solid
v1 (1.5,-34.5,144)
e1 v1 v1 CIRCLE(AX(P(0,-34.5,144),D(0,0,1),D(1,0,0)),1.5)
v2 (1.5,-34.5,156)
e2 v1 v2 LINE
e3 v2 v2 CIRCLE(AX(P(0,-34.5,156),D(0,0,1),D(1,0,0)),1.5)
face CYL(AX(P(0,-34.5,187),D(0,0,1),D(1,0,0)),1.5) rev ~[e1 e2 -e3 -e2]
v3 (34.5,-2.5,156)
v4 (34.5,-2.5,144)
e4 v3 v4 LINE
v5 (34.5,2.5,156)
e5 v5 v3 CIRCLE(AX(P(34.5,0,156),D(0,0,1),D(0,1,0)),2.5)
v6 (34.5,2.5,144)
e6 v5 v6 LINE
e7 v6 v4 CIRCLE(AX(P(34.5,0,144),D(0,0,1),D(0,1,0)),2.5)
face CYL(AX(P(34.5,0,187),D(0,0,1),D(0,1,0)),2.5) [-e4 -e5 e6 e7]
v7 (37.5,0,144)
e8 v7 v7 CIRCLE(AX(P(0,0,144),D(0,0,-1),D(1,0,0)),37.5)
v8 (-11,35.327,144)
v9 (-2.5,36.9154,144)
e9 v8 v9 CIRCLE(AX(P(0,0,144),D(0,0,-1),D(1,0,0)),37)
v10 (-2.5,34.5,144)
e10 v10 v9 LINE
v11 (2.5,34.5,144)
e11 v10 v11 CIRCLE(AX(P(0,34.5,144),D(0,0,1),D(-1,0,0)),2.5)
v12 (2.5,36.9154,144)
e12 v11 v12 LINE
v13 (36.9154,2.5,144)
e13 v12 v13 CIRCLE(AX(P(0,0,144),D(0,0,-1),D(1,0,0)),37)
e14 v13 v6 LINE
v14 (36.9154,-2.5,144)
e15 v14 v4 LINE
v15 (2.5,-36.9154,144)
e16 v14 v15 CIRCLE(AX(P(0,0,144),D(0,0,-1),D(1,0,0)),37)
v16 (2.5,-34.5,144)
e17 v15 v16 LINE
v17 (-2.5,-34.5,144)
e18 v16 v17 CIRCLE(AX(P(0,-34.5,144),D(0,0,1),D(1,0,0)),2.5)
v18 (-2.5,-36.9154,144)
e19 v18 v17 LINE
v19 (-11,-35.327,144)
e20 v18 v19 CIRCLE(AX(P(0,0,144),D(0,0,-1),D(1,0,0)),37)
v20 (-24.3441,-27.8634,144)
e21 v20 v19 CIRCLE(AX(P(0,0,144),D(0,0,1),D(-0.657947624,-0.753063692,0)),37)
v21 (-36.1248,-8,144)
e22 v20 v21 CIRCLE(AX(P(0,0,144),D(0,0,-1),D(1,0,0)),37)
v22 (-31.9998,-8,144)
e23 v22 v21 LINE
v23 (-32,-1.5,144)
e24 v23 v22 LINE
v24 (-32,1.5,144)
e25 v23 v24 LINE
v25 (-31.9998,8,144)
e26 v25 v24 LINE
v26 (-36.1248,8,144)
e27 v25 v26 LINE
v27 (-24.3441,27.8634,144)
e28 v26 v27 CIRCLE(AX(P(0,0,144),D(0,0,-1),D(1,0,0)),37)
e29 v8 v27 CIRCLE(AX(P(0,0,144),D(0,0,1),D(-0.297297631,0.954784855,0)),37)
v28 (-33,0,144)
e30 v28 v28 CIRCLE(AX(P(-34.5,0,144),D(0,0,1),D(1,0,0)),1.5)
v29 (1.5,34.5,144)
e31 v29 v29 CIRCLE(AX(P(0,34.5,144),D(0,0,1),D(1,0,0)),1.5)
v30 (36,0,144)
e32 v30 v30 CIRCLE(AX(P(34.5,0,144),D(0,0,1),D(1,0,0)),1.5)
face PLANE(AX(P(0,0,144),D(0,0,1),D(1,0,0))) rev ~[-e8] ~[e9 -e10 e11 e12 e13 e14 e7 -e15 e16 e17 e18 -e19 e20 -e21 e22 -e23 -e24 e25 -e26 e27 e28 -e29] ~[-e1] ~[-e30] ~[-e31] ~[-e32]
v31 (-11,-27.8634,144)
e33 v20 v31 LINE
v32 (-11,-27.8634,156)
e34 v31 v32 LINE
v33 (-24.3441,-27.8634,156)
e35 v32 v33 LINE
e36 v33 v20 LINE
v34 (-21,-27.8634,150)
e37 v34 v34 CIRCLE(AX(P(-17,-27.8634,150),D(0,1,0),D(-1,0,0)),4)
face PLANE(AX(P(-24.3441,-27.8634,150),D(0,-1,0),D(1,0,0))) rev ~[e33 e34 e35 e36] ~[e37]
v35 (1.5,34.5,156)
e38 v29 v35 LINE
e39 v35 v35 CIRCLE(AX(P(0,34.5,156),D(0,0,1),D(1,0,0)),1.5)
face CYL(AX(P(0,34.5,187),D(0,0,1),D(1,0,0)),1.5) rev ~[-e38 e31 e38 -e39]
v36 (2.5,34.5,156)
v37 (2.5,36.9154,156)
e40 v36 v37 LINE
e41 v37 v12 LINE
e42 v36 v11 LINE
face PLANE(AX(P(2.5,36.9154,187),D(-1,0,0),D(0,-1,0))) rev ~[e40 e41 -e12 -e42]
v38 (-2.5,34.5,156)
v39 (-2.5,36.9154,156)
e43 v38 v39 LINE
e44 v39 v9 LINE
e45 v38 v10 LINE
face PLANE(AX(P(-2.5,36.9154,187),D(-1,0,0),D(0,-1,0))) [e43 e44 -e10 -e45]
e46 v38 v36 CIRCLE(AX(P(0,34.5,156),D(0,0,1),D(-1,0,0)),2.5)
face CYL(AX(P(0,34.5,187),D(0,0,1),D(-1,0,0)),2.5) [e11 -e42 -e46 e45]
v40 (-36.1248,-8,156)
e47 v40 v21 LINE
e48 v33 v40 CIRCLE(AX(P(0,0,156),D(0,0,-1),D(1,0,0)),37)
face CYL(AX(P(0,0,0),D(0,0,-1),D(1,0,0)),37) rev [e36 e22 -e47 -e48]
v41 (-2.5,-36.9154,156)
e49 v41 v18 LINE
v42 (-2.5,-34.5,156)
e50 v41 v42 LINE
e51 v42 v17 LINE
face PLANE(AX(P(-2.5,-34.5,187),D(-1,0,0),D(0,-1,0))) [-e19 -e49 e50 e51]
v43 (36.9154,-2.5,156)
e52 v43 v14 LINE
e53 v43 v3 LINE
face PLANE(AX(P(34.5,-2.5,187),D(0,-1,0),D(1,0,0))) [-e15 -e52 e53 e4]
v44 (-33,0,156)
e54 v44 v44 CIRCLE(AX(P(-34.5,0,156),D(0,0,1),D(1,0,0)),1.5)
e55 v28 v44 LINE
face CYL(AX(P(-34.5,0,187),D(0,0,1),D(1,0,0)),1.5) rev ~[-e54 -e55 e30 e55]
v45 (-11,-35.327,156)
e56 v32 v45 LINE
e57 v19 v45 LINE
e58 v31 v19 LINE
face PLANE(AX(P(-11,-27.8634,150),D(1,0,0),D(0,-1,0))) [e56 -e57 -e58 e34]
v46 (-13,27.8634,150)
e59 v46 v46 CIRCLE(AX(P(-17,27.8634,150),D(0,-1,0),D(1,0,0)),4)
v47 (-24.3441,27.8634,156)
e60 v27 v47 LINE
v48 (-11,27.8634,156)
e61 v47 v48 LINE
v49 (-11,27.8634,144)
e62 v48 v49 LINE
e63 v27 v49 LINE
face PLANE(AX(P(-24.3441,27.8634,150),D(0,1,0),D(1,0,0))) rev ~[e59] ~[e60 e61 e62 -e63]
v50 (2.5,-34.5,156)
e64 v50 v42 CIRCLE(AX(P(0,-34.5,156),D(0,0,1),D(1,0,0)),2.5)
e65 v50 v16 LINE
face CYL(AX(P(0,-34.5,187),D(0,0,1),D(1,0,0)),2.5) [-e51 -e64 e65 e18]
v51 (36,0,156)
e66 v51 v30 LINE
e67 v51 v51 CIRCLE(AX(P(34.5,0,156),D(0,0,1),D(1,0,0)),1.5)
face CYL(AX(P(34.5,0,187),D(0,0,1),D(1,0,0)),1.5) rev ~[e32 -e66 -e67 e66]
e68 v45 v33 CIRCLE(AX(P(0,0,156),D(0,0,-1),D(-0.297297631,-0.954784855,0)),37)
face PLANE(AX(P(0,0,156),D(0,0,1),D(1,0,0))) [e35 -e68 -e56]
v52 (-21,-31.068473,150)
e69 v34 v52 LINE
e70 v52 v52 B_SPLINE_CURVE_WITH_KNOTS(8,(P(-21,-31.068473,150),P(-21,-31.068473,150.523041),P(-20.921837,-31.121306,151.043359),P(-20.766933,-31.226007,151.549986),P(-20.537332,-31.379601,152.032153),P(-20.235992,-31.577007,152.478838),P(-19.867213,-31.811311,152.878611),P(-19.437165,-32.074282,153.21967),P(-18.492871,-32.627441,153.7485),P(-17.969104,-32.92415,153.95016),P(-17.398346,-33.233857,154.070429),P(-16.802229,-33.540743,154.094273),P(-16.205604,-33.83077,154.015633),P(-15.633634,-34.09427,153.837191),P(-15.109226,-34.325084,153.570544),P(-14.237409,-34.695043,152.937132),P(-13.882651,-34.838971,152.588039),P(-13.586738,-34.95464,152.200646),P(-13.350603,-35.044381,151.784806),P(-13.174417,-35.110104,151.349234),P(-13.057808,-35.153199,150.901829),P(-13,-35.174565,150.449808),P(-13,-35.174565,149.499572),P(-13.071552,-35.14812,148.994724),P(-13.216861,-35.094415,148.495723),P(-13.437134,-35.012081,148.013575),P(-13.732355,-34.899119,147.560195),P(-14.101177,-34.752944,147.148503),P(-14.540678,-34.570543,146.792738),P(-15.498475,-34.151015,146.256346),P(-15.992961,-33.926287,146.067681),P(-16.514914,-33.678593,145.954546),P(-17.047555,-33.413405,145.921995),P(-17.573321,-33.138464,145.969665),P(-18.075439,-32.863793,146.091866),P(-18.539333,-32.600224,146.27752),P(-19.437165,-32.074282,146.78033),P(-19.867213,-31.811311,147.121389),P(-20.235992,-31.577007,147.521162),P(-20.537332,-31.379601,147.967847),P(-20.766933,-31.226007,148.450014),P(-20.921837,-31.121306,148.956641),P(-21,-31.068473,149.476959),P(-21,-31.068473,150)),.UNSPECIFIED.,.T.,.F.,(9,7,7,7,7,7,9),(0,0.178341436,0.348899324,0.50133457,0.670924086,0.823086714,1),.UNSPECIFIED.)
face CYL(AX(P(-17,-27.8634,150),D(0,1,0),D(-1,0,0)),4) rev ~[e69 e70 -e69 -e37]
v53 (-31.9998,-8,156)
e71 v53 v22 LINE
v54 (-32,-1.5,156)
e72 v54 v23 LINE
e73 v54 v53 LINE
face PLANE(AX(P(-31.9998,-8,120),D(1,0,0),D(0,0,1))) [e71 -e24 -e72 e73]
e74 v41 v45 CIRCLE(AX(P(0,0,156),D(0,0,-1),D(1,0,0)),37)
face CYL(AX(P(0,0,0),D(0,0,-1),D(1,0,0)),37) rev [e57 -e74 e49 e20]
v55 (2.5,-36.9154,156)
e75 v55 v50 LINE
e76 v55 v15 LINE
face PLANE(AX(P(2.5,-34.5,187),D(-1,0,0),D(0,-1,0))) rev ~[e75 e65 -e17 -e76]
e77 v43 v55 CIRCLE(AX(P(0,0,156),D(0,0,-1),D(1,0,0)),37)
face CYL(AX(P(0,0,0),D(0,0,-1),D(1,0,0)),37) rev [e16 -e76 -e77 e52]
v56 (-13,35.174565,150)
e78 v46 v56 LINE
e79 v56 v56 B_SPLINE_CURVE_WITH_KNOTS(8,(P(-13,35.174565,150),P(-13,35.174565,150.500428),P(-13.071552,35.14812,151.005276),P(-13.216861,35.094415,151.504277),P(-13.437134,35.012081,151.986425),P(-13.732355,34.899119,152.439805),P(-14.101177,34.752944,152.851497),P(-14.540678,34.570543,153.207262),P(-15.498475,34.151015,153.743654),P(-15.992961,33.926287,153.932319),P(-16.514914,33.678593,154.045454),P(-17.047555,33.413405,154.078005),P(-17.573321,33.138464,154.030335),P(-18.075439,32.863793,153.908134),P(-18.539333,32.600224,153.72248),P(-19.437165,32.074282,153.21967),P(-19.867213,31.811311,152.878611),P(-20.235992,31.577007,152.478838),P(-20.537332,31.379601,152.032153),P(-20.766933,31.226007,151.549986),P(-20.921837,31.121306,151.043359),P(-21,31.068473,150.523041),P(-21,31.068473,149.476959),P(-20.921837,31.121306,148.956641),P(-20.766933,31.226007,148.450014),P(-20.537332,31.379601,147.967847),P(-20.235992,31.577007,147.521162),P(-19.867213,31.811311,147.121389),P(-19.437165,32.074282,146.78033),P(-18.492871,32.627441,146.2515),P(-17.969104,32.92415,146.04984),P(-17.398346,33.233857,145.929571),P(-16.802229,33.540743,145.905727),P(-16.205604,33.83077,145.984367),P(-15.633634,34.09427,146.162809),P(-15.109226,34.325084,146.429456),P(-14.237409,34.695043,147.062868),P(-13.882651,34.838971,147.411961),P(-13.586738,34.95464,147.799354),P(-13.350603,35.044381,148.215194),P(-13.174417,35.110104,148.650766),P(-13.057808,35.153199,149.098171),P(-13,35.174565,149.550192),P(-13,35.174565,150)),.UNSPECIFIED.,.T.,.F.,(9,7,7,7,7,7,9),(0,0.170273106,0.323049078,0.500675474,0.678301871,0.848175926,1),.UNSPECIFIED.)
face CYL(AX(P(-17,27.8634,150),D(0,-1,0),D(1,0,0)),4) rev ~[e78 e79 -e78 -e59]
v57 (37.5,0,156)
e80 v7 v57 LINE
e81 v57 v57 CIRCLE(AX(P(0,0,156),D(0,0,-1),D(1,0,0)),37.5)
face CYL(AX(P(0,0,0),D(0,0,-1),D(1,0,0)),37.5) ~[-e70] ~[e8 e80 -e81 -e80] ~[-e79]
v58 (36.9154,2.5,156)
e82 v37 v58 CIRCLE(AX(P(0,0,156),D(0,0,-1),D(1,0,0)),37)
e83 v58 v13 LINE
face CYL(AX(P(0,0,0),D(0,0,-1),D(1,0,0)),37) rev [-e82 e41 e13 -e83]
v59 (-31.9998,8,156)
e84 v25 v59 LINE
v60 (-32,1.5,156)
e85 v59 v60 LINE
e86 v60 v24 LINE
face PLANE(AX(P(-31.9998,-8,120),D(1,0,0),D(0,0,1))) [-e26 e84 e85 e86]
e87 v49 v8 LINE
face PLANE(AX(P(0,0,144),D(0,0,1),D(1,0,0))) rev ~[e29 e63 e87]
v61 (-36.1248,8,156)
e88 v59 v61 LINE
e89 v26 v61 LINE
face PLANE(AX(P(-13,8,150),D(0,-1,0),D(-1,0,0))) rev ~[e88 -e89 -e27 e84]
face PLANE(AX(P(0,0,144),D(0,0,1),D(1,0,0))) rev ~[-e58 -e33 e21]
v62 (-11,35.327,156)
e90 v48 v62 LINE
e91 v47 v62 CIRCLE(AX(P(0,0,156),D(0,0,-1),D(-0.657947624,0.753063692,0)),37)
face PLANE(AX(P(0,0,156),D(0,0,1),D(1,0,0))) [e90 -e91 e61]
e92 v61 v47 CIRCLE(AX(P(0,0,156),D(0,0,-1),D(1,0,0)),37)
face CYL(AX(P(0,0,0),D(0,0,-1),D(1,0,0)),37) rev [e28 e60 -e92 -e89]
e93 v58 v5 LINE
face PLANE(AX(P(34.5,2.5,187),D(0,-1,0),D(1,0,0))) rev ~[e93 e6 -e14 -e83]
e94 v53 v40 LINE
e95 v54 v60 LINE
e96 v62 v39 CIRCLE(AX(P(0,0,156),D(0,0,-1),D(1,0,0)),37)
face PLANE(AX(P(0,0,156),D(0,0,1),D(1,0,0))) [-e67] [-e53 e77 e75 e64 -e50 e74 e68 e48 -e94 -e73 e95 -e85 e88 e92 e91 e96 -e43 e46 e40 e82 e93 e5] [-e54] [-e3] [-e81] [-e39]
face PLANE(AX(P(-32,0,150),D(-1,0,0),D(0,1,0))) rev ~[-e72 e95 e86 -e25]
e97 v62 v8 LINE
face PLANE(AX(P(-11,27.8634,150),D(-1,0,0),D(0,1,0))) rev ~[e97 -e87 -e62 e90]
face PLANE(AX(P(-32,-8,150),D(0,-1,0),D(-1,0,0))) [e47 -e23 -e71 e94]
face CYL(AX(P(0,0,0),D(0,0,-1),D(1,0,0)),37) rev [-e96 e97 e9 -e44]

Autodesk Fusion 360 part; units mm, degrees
sketch "Esboço2" plane through (0, 0, 0) normal (0, 0, 1) x (1, 0, 0)
  circle A0 centre (0, 0) radius 37.5
  circle A1 centre (0, 0) radius 37
  dimension "d6" = 75
  dimension "d7" = 74
extrude "Extrusão2" add sketch "Esboço2" along normal blind 190
ref_plane "Plano de trabalho9" through (0, 0, 187) normal (0, 0, 1) x (1, 0, 0)
sketch "Esboço10" plane through (0, 0, 187) normal (0, 0, 1) x (1, 0, 0)
  circle A0 centre (0, 0) radius 34.5 construction
  line L0 (0, 0) -> (-68.1762, 0) construction
  line L1 (0, 0) -> (60, 0) construction
  line L2 (0, 0) -> (0, 45) construction
  line L3 (0, 0) -> (0, -43.1659) construction
  circle A1 centre (34.5, 0) radius 1.5
  line L4 (3, -43) -> (3, -42)
  circle A2 centre (0, 34.5) radius 1.5
  circle A3 centre (-34.5, 0) radius 1.5
  circle A4 centre (0, -34.5) radius 1.5
  arc A5 (34.5, 2.5) -> (34.5, -2.5) centre (34.5, 0) ccw
  arc A6 (-2.5, 34.5) -> (2.5, 34.5) centre (0, 34.5) ccw
  arc A7 (-34.5, -2.5) -> (-34.5, 2.5) centre (-34.5, 0) ccw
  arc A8 (2.5, -34.5) -> (-2.5, -34.5) centre (0, -34.5) ccw
  circle A9 centre (0, 0) radius 37
  line L5 (-36.9154, 2.5) -> (-34.4093, 2.5)
  line L6 (-36.9154, -2.5) -> (-34.4093, -2.5)
  line L7 (34.5, 2.5) -> (36.9154, 2.5)
  line L8 (34.5, -2.5) -> (36.9154, -2.5)
  line L9 (2.5, 36.9154) -> (2.5, 34.4093)
  line L10 (-2.5, 36.9154) -> (-2.5, 34.4093)
  line L11 (-2.5, -34.4093) -> (-2.5, -36.9154)
  line L12 (2.5, -34.4093) -> (2.5, -36.9154)
  dimension "d82" = 69
  dimension "d83" = 3
  dimension "d84" = 2.5
  dimension "d85" = 2.5
  dimension "d87" = 360
  dimension "d89" = 360
  dimension "d90" = 2.5
extrude "Extrusão12" add sketch "Esboço10" against normal blind 184 contours A5 A9 L7 L8 | A6 A9 L9 L10 | A8 A9 L11 L12 | A7 A9 L5 L6
thread "Rosca3"
ref_plane "Plano de trabalho3" through (0, 0, 32) normal (0, 0, 1) x (1, 0, 0)
sketch "Esboço3" plane through (0, 0, 32) normal (0, 0, 1) x (1, 0, 0)
  line L0 (0, 0) -> (0, 37) construction
  line L1 (34.2491, 14) -> (-34.2491, 14)
  circle A0 centre (0, 0) radius 37
  line L2 (31.1288, 20) -> (-31.1288, 20)
  line L3 (32.8634, 17) -> (-32.8634, 17)
  circle A1 centre (0, 0) radius 50
  circle A2 centre (0, 0) radius 37.5
  line L4 (-8, 0) -> (8, 0)
  line L5 (8, 0) -> (8, 36.1248)
  line L6 (-8, 0) -> (-8, 36.1248)
  circle A3 centre (0, 34.5) radius 1.5
  line L7 (1.5, 32.5) -> (1.5, 0)
  arc A4 (-2.5, 34.5) -> (2.5, 34.5) centre (0, 34.5) ccw
  line L8 (-1.5, 32.5) -> (-1.5, 0)
  line L9 (27.8634, 24.3441) -> (27.8634, 11)
  line L10 (27.8634, 11) -> (35.327, 11)
  line L11 (-27.8634, 11) -> (-35.327, 11)
  line L12 (-27.8634, 24.3441) -> (-27.8634, 11)
  line L13 (-30.4631, 21) -> (30.4631, 21)
  line L14 (-34.641, 13) -> (34.641, 13)
  line L15 (0, 32) -> (8, 32)
  line L16 (0, 32) -> (-8, 32)
  dimension "d12" = 6
  dimension "d15" = 3
  dimension "d17" = 75
  dimension "d18" = 100
  dimension "d41" = 14
  dimension "d51" = 8
  dimension "d52" = 16
  dimension "d99" = 3
  dimension "d100" = 2.5
  dimension "d115" = 6.5
  dimension "d123" = 5
  dimension "d124" = 6
  dimension "d143" = 4
  dimension "d144" = 4
extrude "Extrusão21" add sketch "Esboço3" along normal blind 6 and the other way blind 6 contours L1 A0 L9 L14 | L1 A0 L3 L9 | A0 L9 L10 L14 | A0 L2 L3 L9 | A0 L2 L9 L13 | A0 L9 L13 | A0 L11 L12 L14 | L1 A0 L12 L14 | L1 A0 L3 L12 | A0 L2 L3 L12 | A0 L12 L13 | A0 L2 L12 L13
sketch "Esboço18" plane through (-27.8634, 0, 0) normal (1, 0, 0) x (0, 1, 0)
  line L0 (24.3441, 26) -> (24.3441, 38)
  line L1 (24.3441, 38) -> (11, 38)
  line L2 (11, 38) -> (11, 26)
  line L3 (11, 26) -> (24.3441, 26)
  circle A0 centre (17, 32) radius 4
  point P0 (11, 32)
  dimension "d166" = 8
  dimension "d167" = 6
  dimension "d168" = 6
ref_plane "Plano de trabalho11" through (0, 0, 0) normal (1, 0, 0) x (0, 1, 0)
extrude "Extrusão23" cut sketch "Esboço18" against normal blind 15 contours A0
extrude "Extrusão7" add sketch "Esboço3" along normal blind 30 and the other way blind 30 contours L1 L5 L7 L14 | L1 L3 L5 L7 | L4 L5 L7 L14 | L2 L3 L5 L7 | L1 L6 L8 L14 | L1 L3 L6 L8 | L2 L5 L7 L13 | L2 L3 L6 L8 | L4 L6 L8 L14 | L5 L7 L13 L15 | A0 L5 L6 L7 A4 L8 L15 L16 | L2 L6 L8 L13 | L6 L8 L13 L16 | L7 A4 L15 | A4 L8 L16
sketch "Esboço19" plane through (27.8634, 0, 0) normal (-1, 0, 0) x (0, -1, 0)
  line L0 (-11, 26) -> (-11, 38)
  line L1 (-11, 38) -> (-24.3441, 38)
  line L2 (-24.3441, 38) -> (-24.3441, 26)
  line L3 (-24.3441, 26) -> (-11, 26)
extrude "Extrusão24" cut sketch "Esboço18" along normal blind 80 contours A0
sketch "Esboço11" plane through (8, 0, 0) normal (1, 0, 0) x (0, 1, 0)
  line L0 (0, 2) -> (36.1248, 2)
  line L1 (36.1248, 2) -> (36.1248, 62)
  line L2 (36.1248, 62) -> (0, 62)
  line L3 (0, 62) -> (0, 2)
  circle A0 centre (17, 32) radius 3
  circle A1 centre (17, 32) radius 9.5
  circle A2 centre (17, 32) radius 12.5
  line L4 (36.1248, 32) -> (36.1248, -5) construction
  line L5 (0, 32) -> (36.1248, 32)
  line L6 (30.1248, 2) -> (8.3278, 22.9976)
  line L7 (30.1248, 62) -> (8.3278, 41.0024)
  line L8 (30.1248, 2) -> (31.9998, 2)
  line L9 (31.9998, 2) -> (31.9998, 32)
  line L10 (30.1248, 62) -> (31.9998, 62)
  line L11 (31.9998, 62) -> (31.9998, 32)
  circle A3 centre (17, 32) radius 4
  point P0 (14, 32)
  point P1 (20, 32)
  dimension "d106" = 6
  dimension "d107" = 19
  dimension "d109" = 25
  dimension "d110" = 6
  dimension "d147" = 1.875
extrude "Extrusão13" cut sketch "Esboço11" against normal blind 16 contours L0 L3 A2 L5 L6 | L0 A2 L5 L6 L8 L9 | L2 L3 A2 L5 L7 | A1 A2 L5 | A1 A2 L5 | L2 A2 L5 L7 L10 L11 | A1 L5 A3 | A1 L5 A3 | A0 L5 A3 | A0 L5 A3 | A0 L5 | A0 L5
ref_plane "Plano de trabalho4" through (0, 0, 150) normal (0, 0, 1) x (1, 0, 0)
sketch "Esboço4" plane through (0, 0, 150) normal (0, 0, 1) x (1, 0, 0)
  circle A0 centre (0, 0) radius 37
  circle A1 centre (0, 0) radius 50
  circle A2 centre (0, 0) radius 37.5
  line L0 (-20, -31.1288) -> (-20, 31.1288)
  line L1 (-17, -32.8634) -> (-17, 32.8634)
  line L2 (-14, -34.2491) -> (-14, 34.2491)
  line L3 (0, 8) -> (0, -8)
  line L4 (0, 8) -> (-36.1248, 8)
  line L5 (0, -8) -> (-36.1248, -8)
  line L6 (0, 0) -> (-37, 0) construction
  circle A3 centre (-34.5, 0) radius 1.5
  line L7 (0, 1.5) -> (-32.5, 1.5)
  arc A4 (-34.5, -2.5) -> (-34.5, 2.5) centre (-34.5, 0) ccw
  line L8 (0, -1.5) -> (-32.5, -1.5)
  line L9 (-24.3441, -27.8634) -> (-11, -27.8634)
  line L10 (-11, -27.8634) -> (-11, -35.327)
  line L11 (-24.3441, 27.8634) -> (-11, 27.8634)
  line L12 (-11, 27.8634) -> (-11, 35.327)
  line L13 (-13, 34.641) -> (-13, -34.641)
  line L14 (-21, 30.4631) -> (-21, -30.4631)
  line L15 (-32, 0) -> (-32, 8)
  line L16 (-32, 0) -> (-32, -8)
  dimension "d28" = 75
  dimension "d29" = 100
  dimension "d38" = 14
  dimension "d39" = 6
  dimension "d40" = 3
  dimension "d43" = 16
  dimension "d44" = 8
  dimension "d101" = 3
  dimension "d102" = 2.5
  dimension "d116" = 6.5
  dimension "d135" = 6
  dimension "d136" = 5
  dimension "d145" = 4
  dimension "d146" = 4
extrude "Extrusão25" add sketch "Esboço4" along normal blind 6 and the other way blind 6 contours A0 L11 L12 L13 | A0 L9 L10 L13 | A0 L2 L11 L13 | A0 L2 L9 L13 | A0 L1 L2 L11 | A0 L1 L2 L9 | A0 L0 L1 L11 | A0 L0 L1 L9 | A0 L0 L11 L14 | A0 L0 L9 L14 | A0 L11 L14 | A0 L9 L14
sketch "Esboço20" plane through (0, 27.8634, 0) normal (0, -1, 0) x (1, 0, 0)
  line L0 (-11, 144) -> (-11, 156)
  line L1 (-11, 156) -> (-24.3441, 156)
  line L2 (-24.3441, 156) -> (-24.3441, 144)
  line L3 (-24.3441, 144) -> (-11, 144)
  circle A0 centre (-17, 150) radius 4
  dimension "d179" = 8
  dimension "d180" = 6
  dimension "d182" = 6
extrude "Extrusão26" cut sketch "Esboço20" against normal blind 15 contours A0
sketch "Esboço21" plane through (0, -27.8634, 0) normal (0, 1, 0) x (-1, 0, 0)
  line L0 (24.3441, 144) -> (24.3441, 156)
  line L1 (24.3441, 156) -> (11, 156)
  line L2 (11, 156) -> (11, 144)
  line L3 (11, 144) -> (24.3441, 144)
  circle A0 centre (17, 150) radius 4
  dimension "d185" = 8
  dimension "d186" = 6
  dimension "d187" = 6
extrude "Extrusão27" cut sketch "Esboço21" against normal blind 15 contours A0
extrude "Extrusão6" add sketch "Esboço4" along normal blind 30 and the other way blind 30 contours L2 L4 L7 L13 | L3 L4 L7 L13 | L3 L5 L8 L13 | L2 L5 L8 L13 | L1 L2 L4 L7 | L1 L2 L5 L8 | L0 L1 L4 L7 | L0 L1 L5 L8 | L0 L4 L7 L14 | L0 L5 L8 L14 | A0 L4 L5 L7 A4 L8 L15 L16 | L4 L7 L14 L15 | L5 L8 L14 L16 | L7 A4 L15 | A4 L8 L16
sketch "Esboço13" plane through (0, -8, 0) normal (0, -1, 0) x (1, 0, 0)
  line L0 (0, 120) -> (0, 180)
  line L1 (0, 180) -> (-36.1248, 180)
  line L2 (-36.1248, 180) -> (-36.1248, 120)
  line L3 (-36.1248, 120) -> (0, 120)
  circle A0 centre (-17, 150) radius 3
  circle A1 centre (-17, 150) radius 9.5
  circle A2 centre (-17, 150) radius 12.5
  line L4 (-36.1248, 150) -> (-36.1248, 198.4836) construction
  line L5 (-30.1248, 180) -> (-6.6704, 157.4058)
  line L6 (0, 150) -> (-36.1248, 150)
  line L7 (-30.1248, 120) -> (-6.6704, 142.5942)
  line L8 (-30.1248, 180) -> (-31.9998, 180)
  line L9 (-31.9998, 180) -> (-31.9998, 150)
  line L10 (-30.1248, 120) -> (-31.9998, 120)
  line L11 (-31.9998, 120) -> (-31.9998, 150)
  point P0 (-14, 150)
  point P1 (-20, 150)
  dimension "d117" = 6
  dimension "d118" = 19
  dimension "d119" = 25
  dimension "d120" = 6
  dimension "d148" = 1.875
extrude "Extrusão14" cut sketch "Esboço13" against normal blind 16 contours L0 L3 A2 L6 L7 | L0 L1 A2 L5 L6 | L3 A2 L6 L7 L10 L11 | A1 A2 L6 | A1 A2 L6 | L1 A2 L5 L6 L8 L9 | A0 A1 L6 | A0 A1 L6 | A0 L6 | A0 L6
ref_plane "Plano de trabalho5" through (0, 0, 0) normal (1, 0, 0) x (0, 1, 0)
ref_plane "Plano de trabalho6" through (0, 0, 0) normal (0, 1, 0) x (0, 0, 1)
ref_plane "Plano de trabalho7" through (0, 0, 134.3) normal (0, 0, 1) x (1, 0, 0)
sketch "Esboço8" plane through (0, 0, 134.3) normal (0, 0, 1) x (1, 0, 0)
  line L0 (46.3444, 0) -> (0, 0) construction
  line L1 (8, 36.1248) -> (8, -36.1248)
  line L2 (-8, -36.1248) -> (-8, 36.1248)
  circle A0 centre (0, 0) radius 37
  line L3 (0, 0) -> (0, 37) construction
  circle A1 centre (0, 34.5) radius 1.5
  circle A2 centre (0, -34.5) radius 1.5
  dimension "d72" = 8
  dimension "d73" = 8
  dimension "d95" = 2.5
  dimension "d96" = 3
extrude "Extrusão10" add sketch "Esboço8" along normal blind 2 contours L1 L2 A0
ref_plane "Plano de trabalho8" through (0, 0, 45.7) normal (0, 0, 1) x (1, 0, 0)
sketch "Esboço9" plane through (0, 0, 45.7) normal (0, 0, 1) x (1, 0, 0)
  line L0 (0, 0) -> (-37, 0) construction
  line L1 (-36.1248, 8) -> (36.1248, 8)
  line L2 (-36.1248, -8) -> (36.1248, -8)
  circle A0 centre (0, 0) radius 37
  circle A1 centre (-34.5, 0) radius 1.5
  line L3 (0, 0) -> (0, 43.2459) construction
  circle A2 centre (34.5, 0) radius 1.5
  dimension "d77" = 8
  dimension "d78" = 8
  dimension "d97" = 3
  dimension "d98" = 2.5
extrude "Extrusão11" add sketch "Esboço9" along normal blind 2 contours L1 L2 A0
ref_plane "Plano de trabalho10" through (8, 18.0624, 32) normal (1, 0, 0) x (0, 1, 0)
sketch "Esboço16" plane through (-31.9998, 0, 0) normal (1, 0, 0) x (0, 1, 0)
  line L0 (1.5, 180) -> (1.5, 120)
  line L1 (1.5, 120) -> (8, 120)
  line L2 (8, 120) -> (8, 180)
  line L3 (8, 180) -> (1.5, 180)
  line L4 (4.75, 180) -> (4.75, 120) construction
  circle A0 centre (4.75, 170) radius 1.5
  circle A1 centre (4.75, 130) radius 1.5
  line L5 (8, 150) -> (-12.335, 150) construction
  line L6 (0, 2.5) -> (0, 20)
  circle A2 centre (-4.75, 170) radius 1.5
  circle A3 centre (-4.75, 130) radius 1.5
  dimension "d149" = 3
  dimension "d150" = 3
  dimension "d151" = 40
  dimension "d152" = 20
extrude "Extrusão19" cut sketch "Esboço16" against normal blind 10 contours A0 | A1 | A2 | A3
sketch "Esboço17" plane through (0, 31.9998, 0) normal (0, -1, 0) x (1, 0, 0)
  line L0 (1.5, 62) -> (1.5, 2)
  line L1 (1.5, 2) -> (8, 2)
  line L2 (8, 2) -> (8, 62)
  line L3 (8, 62) -> (1.5, 62)
  line L4 (4.75, 2) -> (4.75, 62) construction
  line L5 (8, 32) -> (-12, 32) construction
  circle A0 centre (4.75, 52) radius 1.5
  circle A1 centre (4.75, 12) radius 1.5
  line L6 (0, 1.75) -> (0, 22.5)
  circle A2 centre (-4.75, 12) radius 1.5
  circle A3 centre (-4.75, 52) radius 1.5
  dimension "d155" = 3
  dimension "d156" = 3
  dimension "d157" = 40
  dimension "d158" = 20
extrude "Extrusão20" cut sketch "Esboço17" against normal blind 10 contours A0 | A1 | A2 | A3
thread "Rosca4"
thread "Rosca5"
sketch "Esboço22" plane through (0, 0, 136.3) normal (0, 0, 1) x (-1, 0, 0)
  line L0 (2.5, 36.9154) -> (2.5, 34.5)
  arc A0 (-2.5, 34.5) -> (2.5, 34.5) centre (0, 34.5) ccw
  line L1 (-2.5, 34.5) -> (-2.5, 36.9154)
  arc A1 (-2.5, 36.9154) -> (-8, 36.1248) centre (0, 0) ccw
  line L2 (-8, 36.1248) -> (-8, -36.1248)
  arc A2 (-8, -36.1248) -> (-2.5, -36.9154) centre (0, 0) ccw
  line L3 (-2.5, -36.9154) -> (-2.5, -34.5)
  arc A3 (2.5, -34.5) -> (-2.5, -34.5) centre (0, -34.5) ccw
  line L4 (2.5, -34.5) -> (2.5, -36.9154)
  arc A4 (2.5, -36.9154) -> (8, -36.1248) centre (0, 0) ccw
  line L5 (8, -36.1248) -> (8, 36.1248)
  arc A5 (8, 36.1248) -> (2.5, 36.9154) centre (0, 0) ccw
  line L6 (0, 0) -> (-21, 0) construction
  line L7 (0, 0) -> (0, -19.3) construction
  line L8 (2, -15.8) -> (-2, -15.8)
  arc A6 (-2, -15.8) -> (-2, -22.8) centre (-2, -19.3) ccw
  line L9 (-2, -22.8) -> (2, -22.8)
  arc A7 (2, -22.8) -> (2, -15.8) centre (2, -19.3) ccw
  line L10 (2, -19.3) -> (-2, -19.3) construction
  arc A8 (-2, 22.8) -> (-2, 15.8) centre (-2, 19.3) ccw
  line L11 (2, 15.8) -> (-2, 15.8)
  arc A9 (2, 15.8) -> (2, 22.8) centre (2, 19.3) ccw
  line L12 (-2, 22.8) -> (2, 22.8)
  circle A10 centre (0, 10.8) radius 1.5 construction
  line L13 (2, 19.3) -> (-2, 19.3) construction
  line L14 (2, 12.3) -> (-2, 12.3)
  arc A11 (-2, 12.3) -> (-2, 9.3) centre (-2, 10.8) ccw
  line L15 (-2, 9.3) -> (2, 9.3)
  arc A12 (2, 9.3) -> (2, 12.3) centre (2, 10.8) ccw
  line L16 (2, 10.8) -> (-2, 10.8) construction
  line L17 (2, 26.3) -> (-2, 26.3)
  arc A13 (2, 26.3) -> (2, 29.3) centre (2, 27.8) ccw
  line L18 (-2, 29.3) -> (2, 29.3)
  arc A14 (-2, 29.3) -> (-2, 26.3) centre (-2, 27.8) ccw
  arc A15 (2, -29.3) -> (2, -26.3) centre (2, -27.8) ccw
  line L19 (2, -26.3) -> (-2, -26.3)
  arc A16 (-2, -26.3) -> (-2, -29.3) centre (-2, -27.8) ccw
  line L20 (-2, -29.3) -> (2, -29.3)
  arc A17 (2, -12.3) -> (2, -9.3) centre (2, -10.8) ccw
  line L21 (-2, -9.3) -> (2, -9.3)
  arc A18 (-2, -9.3) -> (-2, -12.3) centre (-2, -10.8) ccw
  line L22 (2, -12.3) -> (-2, -12.3)
  point P0 (0, -19.3)
  point P1 (0, 10.8)
  dimension "d191" = 19.3
  dimension "d195" = 2
  dimension "d196" = 3.5
  dimension "d204" = 3
  dimension "d205" = 8.5
  dimension "d230" = 1.5
  dimension "d231" = 4
extrude "Extrusão28" cut sketch "Esboço22" against normal blind 5 contours L8 A6 L9 A7 | A8 L11 A9 L12 | L14 A11 L15 A12 | L17 A13 L18 A14 | A15 L19 A16 L20 | A17 L21 A18 L22
sketch "Esboço23" plane through (0, 0, 45.7) normal (0, 0, -1) x (1, 0, 0)
  line L0 (36.9154, -2.5) -> (34.5, -2.5)
  arc A0 (34.5, 2.5) -> (34.5, -2.5) centre (34.5, 0) ccw
  line L1 (34.5, 2.5) -> (36.9154, 2.5)
  arc A1 (36.9154, 2.5) -> (36.1248, 8) centre (0, 0) ccw
  line L2 (36.1248, 8) -> (-36.1248, 8)
  arc A2 (-36.1248, 8) -> (-36.9154, 2.5) centre (0, 0) ccw
  line L3 (-36.9154, 2.5) -> (-34.5, 2.5)
  arc A3 (-34.5, -2.5) -> (-34.5, 2.5) centre (-34.5, 0) ccw
  line L4 (-34.5, -2.5) -> (-36.9154, -2.5)
  arc A4 (-36.9154, -2.5) -> (-36.1248, -8) centre (0, 0) ccw
  line L5 (-36.1248, -8) -> (36.1248, -8)
  arc A5 (36.1248, -8) -> (36.9154, -2.5) centre (0, 0) ccw
  line L6 (0, 0) -> (0, -19) construction
  line L7 (0, 0) -> (19.3, 0)
  line L8 (15.8, 2.5) -> (15.8, -2.5)
  arc A6 (15.8, -2.5) -> (22.8, -2.5) centre (19.3, -2.5) ccw
  line L9 (22.8, -2.5) -> (22.8, 2.5)
  arc A7 (22.8, 2.5) -> (15.8, 2.5) centre (19.3, 2.5) ccw
  line L10 (19.3, 2.5) -> (19.3, -2.5) construction
  line L11 (-15.8, 2.5) -> (-15.8, -2.5)
  arc A8 (-15.8, 2.5) -> (-22.8, 2.5) centre (-19.3, 2.5) ccw
  line L12 (-22.8, -2.5) -> (-22.8, 2.5)
  arc A9 (-22.8, -2.5) -> (-15.8, -2.5) centre (-19.3, -2.5) ccw
  circle A10 centre (10.8, 0) radius 1.5 construction
  circle A11 centre (27.8, 0) radius 1.5 construction
  line L13 (9.3, 2.5) -> (9.3, -2.5)
  arc A12 (9.3, -2.5) -> (12.3, -2.5) centre (10.8, -2.5) ccw
  line L14 (12.3, -2.5) -> (12.3, 2.5)
  arc A13 (12.3, 2.5) -> (9.3, 2.5) centre (10.8, 2.5) ccw
  line L15 (10.8, 2.5) -> (10.8, -2.5) construction
  line L16 (26.3, -2.5) -> (26.3, 2.5)
  arc A14 (26.3, -2.5) -> (29.3, -2.5) centre (27.8, -2.5) ccw
  line L17 (29.3, 2.5) -> (29.3, -2.5)
  arc A15 (29.3, 2.5) -> (26.3, 2.5) centre (27.8, 2.5) ccw
  line L18 (-12.3, -2.5) -> (-12.3, 2.5)
  arc A16 (-12.3, -2.5) -> (-9.3, -2.5) centre (-10.8, -2.5) ccw
  line L19 (-9.3, 2.5) -> (-9.3, -2.5)
  arc A17 (-9.3, 2.5) -> (-12.3, 2.5) centre (-10.8, 2.5) ccw
  line L20 (-26.3, -2.5) -> (-26.3, 2.5)
  arc A18 (-29.3, -2.5) -> (-26.3, -2.5) centre (-27.8, -2.5) ccw
  line L21 (-29.3, 2.5) -> (-29.3, -2.5)
  arc A19 (-26.3, 2.5) -> (-29.3, 2.5) centre (-27.8, 2.5) ccw
  point P0 (19.3, 0)
  point P1 (10.8, 0)
  dimension "d199" = 3.5
  dimension "d200" = 5
  dimension "d201" = 19.3
  dimension "d206" = 3
  dimension "d207" = 8.5
  dimension "d228" = 2.5
  dimension "d229" = 1.5
extrude "Extrusão29" cut sketch "Esboço23" against normal blind 10 contours L7 L13 L14 A13 | L8 A6 L9 A7 | L7 L13 A12 L14 | L11 A8 L12 A9 | L16 A14 L17 A15 | L20 A18 L21 A19
ref_plane "Plano de trabalho12" through (0, 0, 106.3) normal (0, 0, 1) x (1, 0, 0)
sketch "Esboço24" plane through (0, 0, 106.3) normal (0, 0, 1) x (1, 0, 0)
  line L0 (0, 0) -> (28.1868, 0) construction
  line L1 (16, 0) -> (16, 33.3617)
  circle A0 centre (0, 0) radius 37
  line L2 (16, 0) -> (16, -33.3617)
  line L3 (0, 0) -> (0, 19.3) construction
  line L4 (-16, 0) -> (-16, 33.3617)
  line L5 (-16, 0) -> (-16, -33.3617)
  line L6 (-2, 6.8) -> (2, 6.8)
  arc A1 (2, 6.8) -> (2, 31.8) centre (2, 19.3) ccw
  line L7 (2, 31.8) -> (-2, 31.8)
  arc A2 (-2, 31.8) -> (-2, 6.8) centre (-2, 19.3) ccw
  line L8 (-2, 19.3) -> (2, 19.3) construction
  arc A3 (2, -31.8) -> (2, -6.8) centre (2, -19.3) ccw
  arc A4 (-2, -6.8) -> (-2, -31.8) centre (-2, -19.3) ccw
  line L9 (-2, -6.8) -> (2, -6.8)
  line L10 (2, -31.8) -> (-2, -31.8)
  circle A5 centre (0, 34.5) radius 1.5
  circle A6 centre (0, -34.5) radius 1.5
  point P0 (0, 19.3)
  dimension "d209" = 16
  dimension "d210" = 12.5
  dimension "d211" = 4
  dimension "d212" = 19.3
  dimension "d215" = 3
  dimension "d216" = 34.5
ref_plane "Plano de trabalho13" through (0, 0, 55.7) normal (0, 0, -1) x (-1, 0, 0)
ref_plane "Plano de trabalho14" through (0, 0, 60) normal (0, 0, 1) x (1, 0, 0)
sketch "Esboço25" plane through (0, 0, 55.7) normal (0, 0, -1) x (1, 0, 0)
  line L0 (-33.3617, 16) -> (33.3617, 16)
  circle A0 centre (0, 0) radius 37
  line L1 (0, 0) -> (-19.3, 0) construction
  line L2 (-33.3617, -16) -> (33.3617, -16)
  line L3 (-6.8, -2) -> (-6.8, 2)
  arc A1 (-6.8, 2) -> (-31.8, 2) centre (-19.3, 2) ccw
  line L4 (-31.8, 2) -> (-31.8, -2)
  arc A2 (-31.8, -2) -> (-6.8, -2) centre (-19.3, -2) ccw
  line L5 (-19.3, -2) -> (-19.3, 2) construction
  circle A3 centre (-34.5, 0) radius 1.5
  line L6 (0, 0) -> (0, -12) construction
  arc A4 (31.8, 2) -> (6.8, 2) centre (19.3, 2) ccw
  line L7 (6.8, -2) -> (6.8, 2)
  arc A5 (6.8, -2) -> (31.8, -2) centre (19.3, -2) ccw
  circle A6 centre (34.5, 0) radius 1.5
  line L8 (31.8, 2) -> (31.8, -2)
  point P0 (-19.3, 0)
  dimension "d219" = 16
  dimension "d220" = 12.5
  dimension "d221" = 4
  dimension "d222" = 19.3
  dimension "d224" = 34.5
  dimension "d225" = 3
ref_plane "Plano de trabalho15" through (0, 0, 144) normal (0, 0, 1) x (1, 0, 0)
ref_plane "Plano de trabalho16" through (0, 0, 156) normal (0, 0, 1) x (1, 0, 0)
sketch "Esboço26" plane through (0, 0, 156) normal (0, 0, 1) x (1, 0, 0)
  circle A0 centre (0, 0) radius 48.61
extrude "Extrusão32" cut sketch "Esboço26" along normal blind 100
sketch "Esboço27" plane through (0, 0, 144) normal (0, 0, 1) x (1, 0, 0)
  circle A0 centre (0, 0) radius 44.7214
extrude "Extrusão33" cut sketch "Esboço27" against normal blind 200
